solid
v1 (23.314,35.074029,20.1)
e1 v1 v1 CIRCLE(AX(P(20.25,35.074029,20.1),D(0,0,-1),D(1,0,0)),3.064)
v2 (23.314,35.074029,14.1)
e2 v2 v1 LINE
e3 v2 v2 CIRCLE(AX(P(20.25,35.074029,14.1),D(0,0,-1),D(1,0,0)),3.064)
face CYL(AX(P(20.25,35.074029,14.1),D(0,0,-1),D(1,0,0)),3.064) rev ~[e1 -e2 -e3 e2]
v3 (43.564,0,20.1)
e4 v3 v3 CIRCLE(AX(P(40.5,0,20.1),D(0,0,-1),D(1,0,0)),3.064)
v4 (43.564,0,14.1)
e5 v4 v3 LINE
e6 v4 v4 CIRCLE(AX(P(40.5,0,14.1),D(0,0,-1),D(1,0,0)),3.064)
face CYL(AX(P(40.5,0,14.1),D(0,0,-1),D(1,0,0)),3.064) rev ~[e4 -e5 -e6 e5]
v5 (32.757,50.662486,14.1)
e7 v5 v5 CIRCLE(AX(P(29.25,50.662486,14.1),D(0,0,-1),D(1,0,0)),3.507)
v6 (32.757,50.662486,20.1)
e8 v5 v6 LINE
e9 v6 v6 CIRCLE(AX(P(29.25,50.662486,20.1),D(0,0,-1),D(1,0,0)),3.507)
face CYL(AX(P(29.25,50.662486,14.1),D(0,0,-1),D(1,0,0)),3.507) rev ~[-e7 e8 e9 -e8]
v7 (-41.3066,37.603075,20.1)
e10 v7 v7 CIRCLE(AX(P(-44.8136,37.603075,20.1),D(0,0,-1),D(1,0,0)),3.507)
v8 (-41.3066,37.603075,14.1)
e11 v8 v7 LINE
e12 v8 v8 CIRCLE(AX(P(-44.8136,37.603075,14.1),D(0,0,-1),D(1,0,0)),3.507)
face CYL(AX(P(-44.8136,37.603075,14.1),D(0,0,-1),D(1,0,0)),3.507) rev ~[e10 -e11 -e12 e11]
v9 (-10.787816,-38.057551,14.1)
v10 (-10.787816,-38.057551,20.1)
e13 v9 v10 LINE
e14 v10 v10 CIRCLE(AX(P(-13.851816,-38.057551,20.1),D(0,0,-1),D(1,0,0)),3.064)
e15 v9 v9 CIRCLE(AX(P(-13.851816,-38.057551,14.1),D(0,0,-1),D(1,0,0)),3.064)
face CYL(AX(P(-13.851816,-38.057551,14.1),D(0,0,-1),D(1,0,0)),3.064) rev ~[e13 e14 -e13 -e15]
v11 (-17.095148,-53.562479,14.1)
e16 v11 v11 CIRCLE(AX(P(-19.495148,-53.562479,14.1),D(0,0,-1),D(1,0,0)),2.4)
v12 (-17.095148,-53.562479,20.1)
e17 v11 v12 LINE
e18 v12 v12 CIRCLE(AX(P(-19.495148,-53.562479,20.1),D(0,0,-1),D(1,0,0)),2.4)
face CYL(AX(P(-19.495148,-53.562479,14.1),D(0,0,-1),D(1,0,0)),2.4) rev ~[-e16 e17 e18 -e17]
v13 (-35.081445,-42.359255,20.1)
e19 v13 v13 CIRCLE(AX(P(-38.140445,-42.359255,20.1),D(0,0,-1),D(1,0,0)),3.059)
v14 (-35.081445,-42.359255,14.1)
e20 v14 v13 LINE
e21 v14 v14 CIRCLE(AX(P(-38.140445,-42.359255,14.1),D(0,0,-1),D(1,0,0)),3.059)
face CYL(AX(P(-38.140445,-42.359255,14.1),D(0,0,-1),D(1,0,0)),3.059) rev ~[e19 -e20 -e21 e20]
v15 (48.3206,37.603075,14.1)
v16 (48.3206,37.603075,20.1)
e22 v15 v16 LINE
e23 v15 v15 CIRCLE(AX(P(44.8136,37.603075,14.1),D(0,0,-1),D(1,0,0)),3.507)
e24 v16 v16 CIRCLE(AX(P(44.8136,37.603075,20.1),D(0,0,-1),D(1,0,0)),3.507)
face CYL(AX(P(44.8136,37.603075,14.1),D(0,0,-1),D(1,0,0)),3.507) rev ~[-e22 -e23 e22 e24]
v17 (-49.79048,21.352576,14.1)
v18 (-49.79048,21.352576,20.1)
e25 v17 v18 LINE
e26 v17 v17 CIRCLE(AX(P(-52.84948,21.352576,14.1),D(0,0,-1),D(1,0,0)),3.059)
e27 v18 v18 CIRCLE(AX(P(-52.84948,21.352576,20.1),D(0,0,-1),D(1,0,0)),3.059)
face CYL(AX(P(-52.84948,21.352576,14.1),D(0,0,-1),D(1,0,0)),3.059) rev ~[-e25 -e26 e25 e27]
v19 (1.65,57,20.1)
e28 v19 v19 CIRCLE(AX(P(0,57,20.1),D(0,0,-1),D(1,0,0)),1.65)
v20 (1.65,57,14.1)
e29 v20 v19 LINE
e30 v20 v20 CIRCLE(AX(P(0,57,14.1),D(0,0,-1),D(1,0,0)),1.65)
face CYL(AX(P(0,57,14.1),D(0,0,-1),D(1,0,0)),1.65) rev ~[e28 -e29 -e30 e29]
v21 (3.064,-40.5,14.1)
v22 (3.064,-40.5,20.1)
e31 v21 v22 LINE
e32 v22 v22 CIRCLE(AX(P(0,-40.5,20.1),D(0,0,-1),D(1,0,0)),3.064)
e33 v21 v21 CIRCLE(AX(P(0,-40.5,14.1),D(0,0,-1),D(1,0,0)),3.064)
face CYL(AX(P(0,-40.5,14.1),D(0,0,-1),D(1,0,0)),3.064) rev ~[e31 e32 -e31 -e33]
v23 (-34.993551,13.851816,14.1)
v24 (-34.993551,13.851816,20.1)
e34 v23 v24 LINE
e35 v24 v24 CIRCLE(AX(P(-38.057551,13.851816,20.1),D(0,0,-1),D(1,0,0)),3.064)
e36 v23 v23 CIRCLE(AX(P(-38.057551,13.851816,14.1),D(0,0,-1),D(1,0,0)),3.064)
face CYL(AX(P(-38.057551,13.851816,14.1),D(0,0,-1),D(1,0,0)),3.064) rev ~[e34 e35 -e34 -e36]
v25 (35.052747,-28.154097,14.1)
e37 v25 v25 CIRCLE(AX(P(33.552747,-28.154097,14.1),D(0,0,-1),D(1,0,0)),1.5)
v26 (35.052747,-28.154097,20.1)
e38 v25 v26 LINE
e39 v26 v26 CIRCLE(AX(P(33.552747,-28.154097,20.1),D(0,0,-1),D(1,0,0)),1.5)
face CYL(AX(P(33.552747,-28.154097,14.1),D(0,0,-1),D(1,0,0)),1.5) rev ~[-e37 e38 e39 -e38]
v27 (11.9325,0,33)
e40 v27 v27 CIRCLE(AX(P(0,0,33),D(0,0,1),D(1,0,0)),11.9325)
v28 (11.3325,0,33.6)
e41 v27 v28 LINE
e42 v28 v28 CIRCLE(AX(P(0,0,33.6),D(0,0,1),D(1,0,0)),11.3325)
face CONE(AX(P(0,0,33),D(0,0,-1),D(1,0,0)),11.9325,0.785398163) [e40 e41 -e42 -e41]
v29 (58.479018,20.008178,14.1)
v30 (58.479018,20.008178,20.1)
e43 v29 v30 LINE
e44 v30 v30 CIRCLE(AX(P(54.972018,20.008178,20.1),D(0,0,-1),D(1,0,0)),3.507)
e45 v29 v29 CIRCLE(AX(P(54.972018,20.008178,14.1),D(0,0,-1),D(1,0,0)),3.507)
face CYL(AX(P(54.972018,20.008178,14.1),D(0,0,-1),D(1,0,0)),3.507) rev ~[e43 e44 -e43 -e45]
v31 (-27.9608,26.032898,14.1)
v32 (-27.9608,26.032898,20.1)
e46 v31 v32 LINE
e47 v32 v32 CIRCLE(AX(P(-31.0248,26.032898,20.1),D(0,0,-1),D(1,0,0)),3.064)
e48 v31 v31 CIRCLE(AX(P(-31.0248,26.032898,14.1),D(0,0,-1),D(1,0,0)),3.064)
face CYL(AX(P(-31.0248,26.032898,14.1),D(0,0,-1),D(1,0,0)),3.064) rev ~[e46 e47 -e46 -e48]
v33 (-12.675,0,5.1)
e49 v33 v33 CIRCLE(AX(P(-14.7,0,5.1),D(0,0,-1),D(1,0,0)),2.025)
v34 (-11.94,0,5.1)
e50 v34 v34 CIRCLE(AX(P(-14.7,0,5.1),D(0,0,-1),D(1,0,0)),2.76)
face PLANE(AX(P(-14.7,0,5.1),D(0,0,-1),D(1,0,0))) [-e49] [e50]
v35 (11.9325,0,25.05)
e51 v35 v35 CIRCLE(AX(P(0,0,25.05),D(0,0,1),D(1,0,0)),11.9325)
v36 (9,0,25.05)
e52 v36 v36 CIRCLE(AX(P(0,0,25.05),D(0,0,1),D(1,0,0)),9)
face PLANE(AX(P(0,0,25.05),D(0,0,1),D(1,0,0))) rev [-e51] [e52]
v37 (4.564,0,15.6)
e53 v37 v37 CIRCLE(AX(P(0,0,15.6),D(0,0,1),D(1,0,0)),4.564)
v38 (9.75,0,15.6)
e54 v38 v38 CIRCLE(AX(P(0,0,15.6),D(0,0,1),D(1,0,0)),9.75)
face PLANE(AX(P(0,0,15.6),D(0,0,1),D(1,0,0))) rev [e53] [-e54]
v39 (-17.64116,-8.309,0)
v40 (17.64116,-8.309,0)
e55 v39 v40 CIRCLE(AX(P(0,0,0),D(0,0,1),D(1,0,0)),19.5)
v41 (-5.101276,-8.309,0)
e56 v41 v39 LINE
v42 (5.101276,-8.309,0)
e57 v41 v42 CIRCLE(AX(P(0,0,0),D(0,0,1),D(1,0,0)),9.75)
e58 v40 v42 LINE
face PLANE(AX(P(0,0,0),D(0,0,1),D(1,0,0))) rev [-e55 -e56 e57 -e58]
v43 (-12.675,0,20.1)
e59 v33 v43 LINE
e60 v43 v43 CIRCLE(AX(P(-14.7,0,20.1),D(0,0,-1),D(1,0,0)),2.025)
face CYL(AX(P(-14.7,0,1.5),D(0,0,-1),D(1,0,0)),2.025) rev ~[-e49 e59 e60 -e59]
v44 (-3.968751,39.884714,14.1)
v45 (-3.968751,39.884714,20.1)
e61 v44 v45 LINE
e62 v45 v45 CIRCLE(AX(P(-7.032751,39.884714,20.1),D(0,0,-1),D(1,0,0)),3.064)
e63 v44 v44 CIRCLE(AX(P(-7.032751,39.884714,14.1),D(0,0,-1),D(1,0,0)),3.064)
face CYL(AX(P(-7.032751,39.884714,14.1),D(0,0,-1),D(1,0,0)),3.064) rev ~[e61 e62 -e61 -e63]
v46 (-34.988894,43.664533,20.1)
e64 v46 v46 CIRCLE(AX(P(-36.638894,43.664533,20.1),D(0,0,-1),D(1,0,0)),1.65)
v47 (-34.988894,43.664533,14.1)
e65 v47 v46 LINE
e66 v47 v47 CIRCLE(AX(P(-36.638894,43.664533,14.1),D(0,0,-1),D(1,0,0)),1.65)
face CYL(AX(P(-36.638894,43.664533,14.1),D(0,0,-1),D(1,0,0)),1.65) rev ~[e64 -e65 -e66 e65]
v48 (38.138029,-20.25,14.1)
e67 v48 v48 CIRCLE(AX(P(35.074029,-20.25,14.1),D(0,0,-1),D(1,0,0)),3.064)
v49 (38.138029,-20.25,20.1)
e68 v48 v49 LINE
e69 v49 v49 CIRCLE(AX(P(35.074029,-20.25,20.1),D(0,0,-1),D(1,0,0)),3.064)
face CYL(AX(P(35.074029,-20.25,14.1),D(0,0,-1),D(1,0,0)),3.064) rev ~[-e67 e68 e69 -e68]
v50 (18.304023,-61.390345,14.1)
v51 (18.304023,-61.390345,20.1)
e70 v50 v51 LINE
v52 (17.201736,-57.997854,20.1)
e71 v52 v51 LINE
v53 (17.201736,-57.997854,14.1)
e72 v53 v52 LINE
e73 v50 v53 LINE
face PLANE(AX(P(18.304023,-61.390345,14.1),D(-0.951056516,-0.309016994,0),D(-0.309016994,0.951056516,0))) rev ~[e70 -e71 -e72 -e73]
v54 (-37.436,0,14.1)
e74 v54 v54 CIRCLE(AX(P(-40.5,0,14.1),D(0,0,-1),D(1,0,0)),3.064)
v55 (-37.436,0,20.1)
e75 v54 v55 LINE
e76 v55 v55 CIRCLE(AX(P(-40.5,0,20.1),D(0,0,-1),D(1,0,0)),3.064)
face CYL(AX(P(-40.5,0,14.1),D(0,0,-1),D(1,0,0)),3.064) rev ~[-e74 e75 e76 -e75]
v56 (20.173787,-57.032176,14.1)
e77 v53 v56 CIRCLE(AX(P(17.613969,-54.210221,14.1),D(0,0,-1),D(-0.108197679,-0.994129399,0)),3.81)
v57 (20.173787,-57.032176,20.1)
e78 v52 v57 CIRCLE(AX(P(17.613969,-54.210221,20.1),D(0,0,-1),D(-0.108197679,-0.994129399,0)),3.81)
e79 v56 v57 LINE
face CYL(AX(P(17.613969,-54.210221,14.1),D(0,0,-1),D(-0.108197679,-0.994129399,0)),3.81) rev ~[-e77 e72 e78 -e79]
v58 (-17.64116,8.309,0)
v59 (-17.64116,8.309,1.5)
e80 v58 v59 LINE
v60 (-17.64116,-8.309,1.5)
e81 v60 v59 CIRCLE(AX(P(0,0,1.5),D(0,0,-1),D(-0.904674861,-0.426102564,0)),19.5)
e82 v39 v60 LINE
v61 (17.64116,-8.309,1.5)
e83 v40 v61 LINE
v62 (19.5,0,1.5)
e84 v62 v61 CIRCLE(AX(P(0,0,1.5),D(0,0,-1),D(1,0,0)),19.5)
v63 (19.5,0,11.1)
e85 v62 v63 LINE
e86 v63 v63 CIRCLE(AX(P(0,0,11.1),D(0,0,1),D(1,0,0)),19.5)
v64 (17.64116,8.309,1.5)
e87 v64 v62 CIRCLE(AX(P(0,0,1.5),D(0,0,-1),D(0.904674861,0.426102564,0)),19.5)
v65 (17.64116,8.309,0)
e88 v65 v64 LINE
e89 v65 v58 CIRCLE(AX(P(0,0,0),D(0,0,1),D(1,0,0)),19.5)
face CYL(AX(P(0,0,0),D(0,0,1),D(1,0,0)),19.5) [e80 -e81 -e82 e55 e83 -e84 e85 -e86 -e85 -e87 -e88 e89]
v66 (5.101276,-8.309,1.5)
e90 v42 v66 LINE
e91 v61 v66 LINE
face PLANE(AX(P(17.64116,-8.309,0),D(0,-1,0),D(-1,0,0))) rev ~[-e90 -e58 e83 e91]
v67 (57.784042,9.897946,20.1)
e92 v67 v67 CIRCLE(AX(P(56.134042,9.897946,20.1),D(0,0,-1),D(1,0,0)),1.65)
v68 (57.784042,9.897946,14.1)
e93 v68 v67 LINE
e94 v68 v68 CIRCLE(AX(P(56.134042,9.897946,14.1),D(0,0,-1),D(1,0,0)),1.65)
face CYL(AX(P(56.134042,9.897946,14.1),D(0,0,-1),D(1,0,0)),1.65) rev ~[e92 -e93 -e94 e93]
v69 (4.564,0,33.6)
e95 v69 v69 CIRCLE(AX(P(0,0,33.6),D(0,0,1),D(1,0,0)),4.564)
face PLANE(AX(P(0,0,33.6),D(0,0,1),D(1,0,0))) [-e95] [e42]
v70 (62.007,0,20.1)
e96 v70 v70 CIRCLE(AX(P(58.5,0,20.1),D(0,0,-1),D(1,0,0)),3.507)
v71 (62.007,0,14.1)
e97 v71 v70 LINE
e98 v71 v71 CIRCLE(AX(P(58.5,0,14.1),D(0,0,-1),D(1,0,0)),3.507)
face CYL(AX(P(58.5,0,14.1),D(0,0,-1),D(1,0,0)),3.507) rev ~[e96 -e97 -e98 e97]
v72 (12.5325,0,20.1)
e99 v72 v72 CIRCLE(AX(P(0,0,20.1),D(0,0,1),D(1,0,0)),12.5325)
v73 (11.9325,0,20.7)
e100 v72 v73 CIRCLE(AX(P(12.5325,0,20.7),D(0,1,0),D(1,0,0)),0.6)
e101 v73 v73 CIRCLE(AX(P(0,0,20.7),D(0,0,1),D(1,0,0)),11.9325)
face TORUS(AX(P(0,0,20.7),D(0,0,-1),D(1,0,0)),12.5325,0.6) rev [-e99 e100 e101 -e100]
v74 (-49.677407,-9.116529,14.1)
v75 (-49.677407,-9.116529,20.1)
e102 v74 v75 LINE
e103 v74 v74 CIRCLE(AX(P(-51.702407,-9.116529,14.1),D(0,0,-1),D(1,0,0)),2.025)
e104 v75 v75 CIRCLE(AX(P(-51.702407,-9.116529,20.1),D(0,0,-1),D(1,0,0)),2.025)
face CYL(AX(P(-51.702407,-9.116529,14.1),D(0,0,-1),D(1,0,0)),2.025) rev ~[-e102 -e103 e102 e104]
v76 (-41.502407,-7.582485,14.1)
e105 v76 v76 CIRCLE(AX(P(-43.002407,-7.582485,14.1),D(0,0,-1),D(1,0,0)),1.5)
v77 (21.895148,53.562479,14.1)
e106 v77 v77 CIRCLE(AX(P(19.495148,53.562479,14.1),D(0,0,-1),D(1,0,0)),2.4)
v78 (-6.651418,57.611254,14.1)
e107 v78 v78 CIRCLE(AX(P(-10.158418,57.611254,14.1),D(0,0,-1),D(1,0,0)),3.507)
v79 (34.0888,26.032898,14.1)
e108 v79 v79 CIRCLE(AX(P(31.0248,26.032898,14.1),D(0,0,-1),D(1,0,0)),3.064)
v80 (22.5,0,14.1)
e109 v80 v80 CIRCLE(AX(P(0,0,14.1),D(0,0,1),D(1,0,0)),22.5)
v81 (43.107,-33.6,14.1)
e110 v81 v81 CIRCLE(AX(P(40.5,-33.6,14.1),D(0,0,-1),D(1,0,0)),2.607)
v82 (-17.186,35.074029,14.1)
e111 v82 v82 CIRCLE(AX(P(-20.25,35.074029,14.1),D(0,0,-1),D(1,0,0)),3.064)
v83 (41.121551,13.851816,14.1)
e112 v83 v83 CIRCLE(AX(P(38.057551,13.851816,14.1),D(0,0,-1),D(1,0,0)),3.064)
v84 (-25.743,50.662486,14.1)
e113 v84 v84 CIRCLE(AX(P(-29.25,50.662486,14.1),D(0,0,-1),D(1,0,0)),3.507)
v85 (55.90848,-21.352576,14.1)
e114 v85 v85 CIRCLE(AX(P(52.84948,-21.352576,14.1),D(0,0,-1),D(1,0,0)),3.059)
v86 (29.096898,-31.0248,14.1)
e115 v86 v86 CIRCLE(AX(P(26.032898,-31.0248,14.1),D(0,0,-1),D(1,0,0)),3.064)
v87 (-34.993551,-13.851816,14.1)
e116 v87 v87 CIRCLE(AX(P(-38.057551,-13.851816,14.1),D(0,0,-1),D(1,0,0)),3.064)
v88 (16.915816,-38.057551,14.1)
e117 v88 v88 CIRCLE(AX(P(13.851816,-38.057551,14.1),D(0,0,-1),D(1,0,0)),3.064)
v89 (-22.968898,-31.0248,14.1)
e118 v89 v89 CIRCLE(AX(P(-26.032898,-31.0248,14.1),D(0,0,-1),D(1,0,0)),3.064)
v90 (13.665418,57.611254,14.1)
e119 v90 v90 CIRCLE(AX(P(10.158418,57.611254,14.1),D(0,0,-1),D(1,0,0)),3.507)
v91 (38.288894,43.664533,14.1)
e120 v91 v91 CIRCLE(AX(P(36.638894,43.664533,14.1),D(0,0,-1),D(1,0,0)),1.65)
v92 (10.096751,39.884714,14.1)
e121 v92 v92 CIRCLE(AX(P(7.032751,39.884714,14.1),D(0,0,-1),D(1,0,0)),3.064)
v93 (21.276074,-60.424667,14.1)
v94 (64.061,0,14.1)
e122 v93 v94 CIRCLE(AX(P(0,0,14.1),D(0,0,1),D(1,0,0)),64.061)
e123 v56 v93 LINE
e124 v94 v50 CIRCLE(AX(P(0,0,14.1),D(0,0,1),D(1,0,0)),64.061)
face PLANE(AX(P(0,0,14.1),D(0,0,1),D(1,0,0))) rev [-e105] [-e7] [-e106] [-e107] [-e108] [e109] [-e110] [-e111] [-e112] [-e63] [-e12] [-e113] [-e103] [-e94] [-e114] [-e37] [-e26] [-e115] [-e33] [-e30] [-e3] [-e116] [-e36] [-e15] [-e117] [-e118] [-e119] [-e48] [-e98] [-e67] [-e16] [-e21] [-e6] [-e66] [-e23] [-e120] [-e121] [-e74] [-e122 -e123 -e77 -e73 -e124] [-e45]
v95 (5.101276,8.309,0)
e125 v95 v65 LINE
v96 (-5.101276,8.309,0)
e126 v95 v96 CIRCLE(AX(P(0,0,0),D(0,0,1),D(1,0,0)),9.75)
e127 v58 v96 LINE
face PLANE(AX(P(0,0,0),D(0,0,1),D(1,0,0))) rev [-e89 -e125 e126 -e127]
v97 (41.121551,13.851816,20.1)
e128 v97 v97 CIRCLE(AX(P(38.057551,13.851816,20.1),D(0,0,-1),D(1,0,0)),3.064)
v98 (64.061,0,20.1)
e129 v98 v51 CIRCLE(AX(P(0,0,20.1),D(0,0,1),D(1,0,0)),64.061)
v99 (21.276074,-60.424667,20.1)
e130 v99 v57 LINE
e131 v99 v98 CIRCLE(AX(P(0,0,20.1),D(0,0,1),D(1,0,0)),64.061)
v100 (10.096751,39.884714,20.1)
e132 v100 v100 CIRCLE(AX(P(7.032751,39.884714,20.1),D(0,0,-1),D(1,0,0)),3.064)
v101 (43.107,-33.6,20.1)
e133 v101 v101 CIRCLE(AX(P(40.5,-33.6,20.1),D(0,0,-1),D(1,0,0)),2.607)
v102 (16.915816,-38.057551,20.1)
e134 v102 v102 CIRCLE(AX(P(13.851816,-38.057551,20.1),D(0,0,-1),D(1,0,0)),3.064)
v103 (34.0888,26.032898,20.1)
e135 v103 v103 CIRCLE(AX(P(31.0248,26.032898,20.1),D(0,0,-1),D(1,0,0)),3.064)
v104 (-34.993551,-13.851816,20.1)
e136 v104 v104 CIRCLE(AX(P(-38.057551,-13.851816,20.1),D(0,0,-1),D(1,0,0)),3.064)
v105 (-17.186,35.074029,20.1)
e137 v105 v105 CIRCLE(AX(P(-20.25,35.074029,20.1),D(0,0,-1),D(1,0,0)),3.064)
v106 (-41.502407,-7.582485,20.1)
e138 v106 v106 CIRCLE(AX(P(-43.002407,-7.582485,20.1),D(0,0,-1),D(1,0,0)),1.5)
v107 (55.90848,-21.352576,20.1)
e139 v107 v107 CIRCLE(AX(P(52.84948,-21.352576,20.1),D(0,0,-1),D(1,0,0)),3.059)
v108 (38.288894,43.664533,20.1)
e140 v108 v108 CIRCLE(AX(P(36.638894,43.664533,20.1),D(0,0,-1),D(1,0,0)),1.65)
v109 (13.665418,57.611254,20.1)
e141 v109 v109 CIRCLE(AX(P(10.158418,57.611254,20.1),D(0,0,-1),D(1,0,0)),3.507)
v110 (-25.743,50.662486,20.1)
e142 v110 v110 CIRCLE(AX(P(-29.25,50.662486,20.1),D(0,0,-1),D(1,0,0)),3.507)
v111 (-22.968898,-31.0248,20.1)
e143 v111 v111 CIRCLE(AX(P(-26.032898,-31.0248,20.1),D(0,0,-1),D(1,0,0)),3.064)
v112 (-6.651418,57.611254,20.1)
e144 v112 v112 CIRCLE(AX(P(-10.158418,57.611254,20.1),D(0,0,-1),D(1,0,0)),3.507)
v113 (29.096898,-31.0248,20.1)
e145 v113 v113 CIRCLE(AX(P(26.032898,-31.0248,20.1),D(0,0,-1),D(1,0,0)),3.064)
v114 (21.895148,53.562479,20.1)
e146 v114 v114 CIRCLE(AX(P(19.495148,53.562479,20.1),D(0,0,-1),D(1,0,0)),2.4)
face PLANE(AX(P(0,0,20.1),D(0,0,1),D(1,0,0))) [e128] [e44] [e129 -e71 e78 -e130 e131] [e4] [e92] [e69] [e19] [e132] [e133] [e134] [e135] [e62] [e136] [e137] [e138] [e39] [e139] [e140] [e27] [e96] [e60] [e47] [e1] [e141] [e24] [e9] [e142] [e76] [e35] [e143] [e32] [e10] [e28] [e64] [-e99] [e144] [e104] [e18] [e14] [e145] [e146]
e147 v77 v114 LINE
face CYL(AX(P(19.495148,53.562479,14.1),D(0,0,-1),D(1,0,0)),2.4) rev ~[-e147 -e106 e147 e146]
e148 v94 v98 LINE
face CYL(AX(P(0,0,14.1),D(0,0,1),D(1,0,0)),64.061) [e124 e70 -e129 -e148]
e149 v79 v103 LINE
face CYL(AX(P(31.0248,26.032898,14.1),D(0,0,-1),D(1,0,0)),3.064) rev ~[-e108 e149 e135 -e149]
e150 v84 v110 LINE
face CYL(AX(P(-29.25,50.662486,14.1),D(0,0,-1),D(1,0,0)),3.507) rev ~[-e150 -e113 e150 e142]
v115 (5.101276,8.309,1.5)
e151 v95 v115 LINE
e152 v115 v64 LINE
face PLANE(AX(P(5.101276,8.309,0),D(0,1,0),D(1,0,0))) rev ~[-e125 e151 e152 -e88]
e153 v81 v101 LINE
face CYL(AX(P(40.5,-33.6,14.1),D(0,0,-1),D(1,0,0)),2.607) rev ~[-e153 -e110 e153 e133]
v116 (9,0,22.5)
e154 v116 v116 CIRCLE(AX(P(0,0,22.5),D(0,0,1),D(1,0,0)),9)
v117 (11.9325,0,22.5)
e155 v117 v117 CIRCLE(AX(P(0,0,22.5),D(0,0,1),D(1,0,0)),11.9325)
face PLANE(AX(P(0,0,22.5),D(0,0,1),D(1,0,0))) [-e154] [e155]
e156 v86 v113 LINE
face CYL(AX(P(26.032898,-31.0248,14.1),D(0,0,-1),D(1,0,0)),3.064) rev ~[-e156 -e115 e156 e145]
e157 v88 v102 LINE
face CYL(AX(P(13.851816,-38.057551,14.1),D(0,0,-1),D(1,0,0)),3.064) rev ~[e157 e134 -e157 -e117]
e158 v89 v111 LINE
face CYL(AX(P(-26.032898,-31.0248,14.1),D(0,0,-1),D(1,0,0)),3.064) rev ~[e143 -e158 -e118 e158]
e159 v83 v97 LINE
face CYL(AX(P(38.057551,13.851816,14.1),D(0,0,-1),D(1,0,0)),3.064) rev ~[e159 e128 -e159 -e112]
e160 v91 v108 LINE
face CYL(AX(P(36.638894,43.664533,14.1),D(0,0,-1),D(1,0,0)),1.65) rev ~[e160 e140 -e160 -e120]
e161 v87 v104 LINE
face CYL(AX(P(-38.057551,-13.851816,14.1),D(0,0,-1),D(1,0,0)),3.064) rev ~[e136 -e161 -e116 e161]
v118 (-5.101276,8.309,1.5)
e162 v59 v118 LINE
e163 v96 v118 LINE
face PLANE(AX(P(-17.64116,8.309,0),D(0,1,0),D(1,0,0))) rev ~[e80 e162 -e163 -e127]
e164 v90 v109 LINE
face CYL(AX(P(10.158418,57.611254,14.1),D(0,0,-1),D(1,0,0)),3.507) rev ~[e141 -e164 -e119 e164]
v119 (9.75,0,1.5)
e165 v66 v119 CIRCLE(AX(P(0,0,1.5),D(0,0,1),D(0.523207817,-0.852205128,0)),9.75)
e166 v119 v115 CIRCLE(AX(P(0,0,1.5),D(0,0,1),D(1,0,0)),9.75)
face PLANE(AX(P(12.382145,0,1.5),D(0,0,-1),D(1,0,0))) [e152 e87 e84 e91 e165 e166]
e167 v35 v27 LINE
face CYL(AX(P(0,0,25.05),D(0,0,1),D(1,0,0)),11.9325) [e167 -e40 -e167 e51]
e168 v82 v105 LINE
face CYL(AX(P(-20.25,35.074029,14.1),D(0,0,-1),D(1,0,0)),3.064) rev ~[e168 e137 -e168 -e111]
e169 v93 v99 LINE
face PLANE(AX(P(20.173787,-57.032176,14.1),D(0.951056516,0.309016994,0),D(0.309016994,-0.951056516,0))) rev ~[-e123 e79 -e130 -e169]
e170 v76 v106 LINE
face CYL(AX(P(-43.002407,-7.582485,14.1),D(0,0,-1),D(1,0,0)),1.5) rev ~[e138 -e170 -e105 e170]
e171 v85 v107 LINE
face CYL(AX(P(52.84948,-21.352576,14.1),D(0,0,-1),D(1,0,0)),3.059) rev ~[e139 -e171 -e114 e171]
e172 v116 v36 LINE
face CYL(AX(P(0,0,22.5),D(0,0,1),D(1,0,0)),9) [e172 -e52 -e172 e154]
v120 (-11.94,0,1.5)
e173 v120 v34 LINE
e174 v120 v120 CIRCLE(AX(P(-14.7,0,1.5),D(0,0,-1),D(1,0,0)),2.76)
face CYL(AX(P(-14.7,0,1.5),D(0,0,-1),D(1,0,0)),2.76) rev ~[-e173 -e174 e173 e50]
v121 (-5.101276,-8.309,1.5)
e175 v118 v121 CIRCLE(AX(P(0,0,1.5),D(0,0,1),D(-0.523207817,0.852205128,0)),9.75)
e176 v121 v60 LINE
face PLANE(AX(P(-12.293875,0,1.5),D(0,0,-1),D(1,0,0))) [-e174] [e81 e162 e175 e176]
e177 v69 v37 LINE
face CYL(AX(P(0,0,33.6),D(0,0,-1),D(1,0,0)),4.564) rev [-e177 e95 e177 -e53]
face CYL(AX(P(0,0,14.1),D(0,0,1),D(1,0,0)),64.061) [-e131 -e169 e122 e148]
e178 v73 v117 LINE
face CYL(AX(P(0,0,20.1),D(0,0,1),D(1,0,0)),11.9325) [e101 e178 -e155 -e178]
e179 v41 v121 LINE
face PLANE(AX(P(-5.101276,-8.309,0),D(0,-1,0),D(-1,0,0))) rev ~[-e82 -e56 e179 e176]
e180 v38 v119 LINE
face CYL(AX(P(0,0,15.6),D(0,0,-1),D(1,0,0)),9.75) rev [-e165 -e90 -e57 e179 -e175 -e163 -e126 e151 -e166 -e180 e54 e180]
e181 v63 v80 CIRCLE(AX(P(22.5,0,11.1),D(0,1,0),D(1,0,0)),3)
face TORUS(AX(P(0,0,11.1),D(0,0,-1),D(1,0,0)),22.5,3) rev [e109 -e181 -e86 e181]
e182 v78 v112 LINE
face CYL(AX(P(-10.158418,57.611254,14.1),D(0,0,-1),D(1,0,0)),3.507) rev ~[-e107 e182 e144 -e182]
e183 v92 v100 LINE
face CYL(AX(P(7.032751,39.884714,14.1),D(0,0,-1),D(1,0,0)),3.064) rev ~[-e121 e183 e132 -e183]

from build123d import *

# Parameters (mm, degrees)
F2_R      = 1.169
F2_R_2    = 1.0196666667
F2_R_3    = 1.0213333333
F2_R_4    = 0.55
F2_R_5    = 0.8
F2_R_6    = 0.869
F2_R_7    = 0.5
F2_R_8    = 0.675
F3_DEPTH  = 6.501
F4_R      = 1
F5_R      = 0.2
F6_SIZE   = 0.2
F8_DEPTH  = 0.5
F9_R      = 0.675
F10_DEPTH = 10.701
F11_R     = 0.92
F11_R_2   = 0.675
F12_DEPTH = 1.2
F13_SCALE = 3


with BuildPart() as f1:
    # F0 (on Front) → F1 (revolve)
    with BuildSketch(Plane.XZ):
        Polygon((3.25, 5.2), (3.25, 0), (6.5, 0), (6.5, 4.7), (21.3536666667, 4.7), (21.3536666667, 6.7), (3.9775, 6.7), (3.9775, 7.5), (3, 7.5), (3, 8.35), (3.9775, 8.35), (3.9775, 11.2), (1.5213333333, 11.2), (1.5213333333, 5.2), align=None)
    revolve(axis=Axis((0, 0, 5.6), (0, 0, 1)))

    # F2 (on face) → F3 (cut, through all)
    with BuildSketch(Plane(origin=(0, 0, 4.7), x_dir=(1, 0, 0), z_dir=(0, 0, -1))):
        with Locations((19.5, 0)):
            Circle(F2_R)
        with Locations((18.3240061053, -6.6693927949)):
            Circle(F2_R)
        with Locations((14.9378666408, -12.5343583889)):
            Circle(F2_R)
        with Locations((9.75, -16.8874953738)):
            Circle(F2_R)
        with Locations((3.3861394645, -19.2037511837)):
            Circle(F2_R)
        with Locations((-3.3861394645, -19.2037511837)):
            Circle(F2_R)
        with Locations((-9.75, -16.8874953738)):
            Circle(F2_R)
        with Locations((-14.9378666408, -12.5343583889)):
            Circle(F2_R)
        with Locations((-17.6164932368, -7.1175252749)):
            Circle(F2_R_2)
        with Locations((11.6913429511, 6.75)):
            Circle(F2_R_3)
        with Locations((8.6776327308, 10.3415999821)):
            Circle(F2_R_3)
        with Locations((12.6858503806, -4.6172719349)):
            Circle(F2_R_3)
        with Locations((13.5, 0)):
            Circle(F2_R_3)
        with Locations((10.3415999821, -8.6776327308)):
            Circle(F2_R_3)
        with Locations((6.75, -11.6913429511)):
            Circle(F2_R_3)
        with Locations((2.3442503985, -13.2949046657)):
            Circle(F2_R_3)
        with Locations((-2.3442503985, -13.2949046657)):
            Circle(F2_R_3)
        with Locations((-6.75, -11.6913429511)):
            Circle(F2_R_3)
        with Locations((-10.3415999821, -8.6776327308)):
            Circle(F2_R_3)
        with Locations((-12.6858503806, -4.6172719349)):
            Circle(F2_R_3)
        with Locations((-13.5, 0)):
            Circle(F2_R_3)
        with Locations((-12.6858503806, 4.6172719349)):
            Circle(F2_R_3)
        with Locations((-8.6776327308, 10.3415999821)):
            Circle(F2_R_3)
        with Locations((-4.6172719349, 12.6858503806)):
            Circle(F2_R_3)
        with Locations((0, 13.5)):
            Circle(F2_R_3)
        with Locations((4.6172719349, 12.6858503806)):
            Circle(F2_R_3)
        with Locations((18.7113473072, -3.2993153757)):
            Circle(F2_R_4)
        with Locations((12.212964584, -14.5548444193)):
            Circle(F2_R_4)
        with Locations((0, -19)):
            Circle(F2_R_4)
        with Locations((-12.212964584, -14.5548444193)):
            Circle(F2_R_4)
        with Locations((6.4983827232, -17.8541597949)):
            Circle(F2_R_5)
        with Locations((17.6164932368, 7.1175252749)):
            Circle(F2_R_2)
        with Locations((13.5, 11.2)):
            Circle(F2_R_6)
        with Locations((11.1842488695, 9.3846991014)):
            Circle(F2_R_7)
        with Locations((-6.4983827232, 17.8541597949)):
            Circle(F2_R_5)
        with Locations((-12.7134815208, 14.1197516841)):
            Circle(F2_R_2)
        with Locations((-17.2341356777, 3.0388431092)):
            Circle(F2_R_8)
        with Locations((-14.3341356777, 2.5274948651)):
            Circle(F2_R_7)
        with BuildLine():
            Line((6.1013408583, 20.4634483859), (5.7339118404, 19.3326181465))
            ThreePointArc((5.7339118404, 19.3326181465), (5.4788713103, 16.8622320339), (6.7245957116, 19.010725444))
            Line((6.7245957116, 19.010725444), (7.0920247294, 20.1415556834))
            ThreePointArc((7.0920247294, 20.1415556834), (6.5986458922, 20.3085438301), (6.1013408583, 20.4634483859))
        make_face()
    extrude(amount=-F3_DEPTH, mode=Mode.SUBTRACT)

    # F4
    f4_edges = [f1.edges().sort_by_distance(p)[0] for p in [
        (-6.5, 0, 4.7),
    ]]
    fillet(f4_edges, radius=F4_R)

    # F5
    f5_edges = [f1.edges().sort_by_distance(p)[0] for p in [
        (-3.9775, 0, 6.7),
    ]]
    fillet(f5_edges, radius=F5_R)

    # F6
    f6_edges = [f1.edges().sort_by_distance(p)[0] for p in [
        (-3.9775, 0, 11.2),
    ]]
    chamfer(f6_edges, length=F6_SIZE)

    # F7 (on face) → F8 (cut)
    with BuildSketch(Plane(origin=(0, 0, 0), x_dir=(1, 0, 0), z_dir=(0, 0, -1))):
        with BuildLine():
            ThreePointArc((-5.8803865992, 2.7696666667), (-6.5, 0), (-5.8803865992, -2.7696666667))
            Line((-5.8803865992, -2.7696666667), (-1.7004254043, -2.7696666667))
            ThreePointArc((-1.7004254043, -2.7696666667), (-3.25, 0), (-1.7004254043, 2.7696666667))
            Line((-1.7004254043, 2.7696666667), (-5.8803865992, 2.7696666667))
        make_face()
        with BuildLine():
            Line((1.7004254043, -2.7696666667), (5.8803865992, -2.7696666667))
            ThreePointArc((5.8803865992, -2.7696666667), (6.3432055341, -1.419064323), (6.5, 0))
            ThreePointArc((6.5, 0), (6.3432055341, 1.419064323), (5.8803865992, 2.7696666667))
            Line((5.8803865992, 2.7696666667), (1.7004254043, 2.7696666667))
            ThreePointArc((1.7004254043, 2.7696666667), (2.8362724273, 1.5868392225), (3.25, 0))
            ThreePointArc((3.25, 0), (2.8362724273, -1.5868392225), (1.7004254043, -2.7696666667))
        make_face()
    extrude(amount=-F8_DEPTH, mode=Mode.SUBTRACT)

    # F9 (on face) → F10 (cut, through all)
    with BuildSketch(Plane(origin=(0, 0, 0.5), x_dir=(1, 0, 0), z_dir=(0, 0, -1))):
        with Locations((-4.9, 0)):
            Circle(F9_R)
    extrude(amount=-F10_DEPTH, mode=Mode.SUBTRACT)

    # F11 (on face) → F12 (cut)
    with BuildSketch(Plane(origin=(0, 0, 0.5), x_dir=(1, 0, 0), z_dir=(0, 0, -1))):
        with Locations((-4.9, 0)):
            Circle(F11_R)
        with Locations((-4.9, 0)):
            Circle(F11_R_2, mode=Mode.SUBTRACT)
        with Locations((-4.9, 0)):
            Circle(F11_R_2)
    extrude(amount=-F12_DEPTH, mode=Mode.SUBTRACT)


with BuildPart() as f1_1:
    # F13: moved
    add(f1.part.scale(F13_SCALE))


solid = f1_1.part
